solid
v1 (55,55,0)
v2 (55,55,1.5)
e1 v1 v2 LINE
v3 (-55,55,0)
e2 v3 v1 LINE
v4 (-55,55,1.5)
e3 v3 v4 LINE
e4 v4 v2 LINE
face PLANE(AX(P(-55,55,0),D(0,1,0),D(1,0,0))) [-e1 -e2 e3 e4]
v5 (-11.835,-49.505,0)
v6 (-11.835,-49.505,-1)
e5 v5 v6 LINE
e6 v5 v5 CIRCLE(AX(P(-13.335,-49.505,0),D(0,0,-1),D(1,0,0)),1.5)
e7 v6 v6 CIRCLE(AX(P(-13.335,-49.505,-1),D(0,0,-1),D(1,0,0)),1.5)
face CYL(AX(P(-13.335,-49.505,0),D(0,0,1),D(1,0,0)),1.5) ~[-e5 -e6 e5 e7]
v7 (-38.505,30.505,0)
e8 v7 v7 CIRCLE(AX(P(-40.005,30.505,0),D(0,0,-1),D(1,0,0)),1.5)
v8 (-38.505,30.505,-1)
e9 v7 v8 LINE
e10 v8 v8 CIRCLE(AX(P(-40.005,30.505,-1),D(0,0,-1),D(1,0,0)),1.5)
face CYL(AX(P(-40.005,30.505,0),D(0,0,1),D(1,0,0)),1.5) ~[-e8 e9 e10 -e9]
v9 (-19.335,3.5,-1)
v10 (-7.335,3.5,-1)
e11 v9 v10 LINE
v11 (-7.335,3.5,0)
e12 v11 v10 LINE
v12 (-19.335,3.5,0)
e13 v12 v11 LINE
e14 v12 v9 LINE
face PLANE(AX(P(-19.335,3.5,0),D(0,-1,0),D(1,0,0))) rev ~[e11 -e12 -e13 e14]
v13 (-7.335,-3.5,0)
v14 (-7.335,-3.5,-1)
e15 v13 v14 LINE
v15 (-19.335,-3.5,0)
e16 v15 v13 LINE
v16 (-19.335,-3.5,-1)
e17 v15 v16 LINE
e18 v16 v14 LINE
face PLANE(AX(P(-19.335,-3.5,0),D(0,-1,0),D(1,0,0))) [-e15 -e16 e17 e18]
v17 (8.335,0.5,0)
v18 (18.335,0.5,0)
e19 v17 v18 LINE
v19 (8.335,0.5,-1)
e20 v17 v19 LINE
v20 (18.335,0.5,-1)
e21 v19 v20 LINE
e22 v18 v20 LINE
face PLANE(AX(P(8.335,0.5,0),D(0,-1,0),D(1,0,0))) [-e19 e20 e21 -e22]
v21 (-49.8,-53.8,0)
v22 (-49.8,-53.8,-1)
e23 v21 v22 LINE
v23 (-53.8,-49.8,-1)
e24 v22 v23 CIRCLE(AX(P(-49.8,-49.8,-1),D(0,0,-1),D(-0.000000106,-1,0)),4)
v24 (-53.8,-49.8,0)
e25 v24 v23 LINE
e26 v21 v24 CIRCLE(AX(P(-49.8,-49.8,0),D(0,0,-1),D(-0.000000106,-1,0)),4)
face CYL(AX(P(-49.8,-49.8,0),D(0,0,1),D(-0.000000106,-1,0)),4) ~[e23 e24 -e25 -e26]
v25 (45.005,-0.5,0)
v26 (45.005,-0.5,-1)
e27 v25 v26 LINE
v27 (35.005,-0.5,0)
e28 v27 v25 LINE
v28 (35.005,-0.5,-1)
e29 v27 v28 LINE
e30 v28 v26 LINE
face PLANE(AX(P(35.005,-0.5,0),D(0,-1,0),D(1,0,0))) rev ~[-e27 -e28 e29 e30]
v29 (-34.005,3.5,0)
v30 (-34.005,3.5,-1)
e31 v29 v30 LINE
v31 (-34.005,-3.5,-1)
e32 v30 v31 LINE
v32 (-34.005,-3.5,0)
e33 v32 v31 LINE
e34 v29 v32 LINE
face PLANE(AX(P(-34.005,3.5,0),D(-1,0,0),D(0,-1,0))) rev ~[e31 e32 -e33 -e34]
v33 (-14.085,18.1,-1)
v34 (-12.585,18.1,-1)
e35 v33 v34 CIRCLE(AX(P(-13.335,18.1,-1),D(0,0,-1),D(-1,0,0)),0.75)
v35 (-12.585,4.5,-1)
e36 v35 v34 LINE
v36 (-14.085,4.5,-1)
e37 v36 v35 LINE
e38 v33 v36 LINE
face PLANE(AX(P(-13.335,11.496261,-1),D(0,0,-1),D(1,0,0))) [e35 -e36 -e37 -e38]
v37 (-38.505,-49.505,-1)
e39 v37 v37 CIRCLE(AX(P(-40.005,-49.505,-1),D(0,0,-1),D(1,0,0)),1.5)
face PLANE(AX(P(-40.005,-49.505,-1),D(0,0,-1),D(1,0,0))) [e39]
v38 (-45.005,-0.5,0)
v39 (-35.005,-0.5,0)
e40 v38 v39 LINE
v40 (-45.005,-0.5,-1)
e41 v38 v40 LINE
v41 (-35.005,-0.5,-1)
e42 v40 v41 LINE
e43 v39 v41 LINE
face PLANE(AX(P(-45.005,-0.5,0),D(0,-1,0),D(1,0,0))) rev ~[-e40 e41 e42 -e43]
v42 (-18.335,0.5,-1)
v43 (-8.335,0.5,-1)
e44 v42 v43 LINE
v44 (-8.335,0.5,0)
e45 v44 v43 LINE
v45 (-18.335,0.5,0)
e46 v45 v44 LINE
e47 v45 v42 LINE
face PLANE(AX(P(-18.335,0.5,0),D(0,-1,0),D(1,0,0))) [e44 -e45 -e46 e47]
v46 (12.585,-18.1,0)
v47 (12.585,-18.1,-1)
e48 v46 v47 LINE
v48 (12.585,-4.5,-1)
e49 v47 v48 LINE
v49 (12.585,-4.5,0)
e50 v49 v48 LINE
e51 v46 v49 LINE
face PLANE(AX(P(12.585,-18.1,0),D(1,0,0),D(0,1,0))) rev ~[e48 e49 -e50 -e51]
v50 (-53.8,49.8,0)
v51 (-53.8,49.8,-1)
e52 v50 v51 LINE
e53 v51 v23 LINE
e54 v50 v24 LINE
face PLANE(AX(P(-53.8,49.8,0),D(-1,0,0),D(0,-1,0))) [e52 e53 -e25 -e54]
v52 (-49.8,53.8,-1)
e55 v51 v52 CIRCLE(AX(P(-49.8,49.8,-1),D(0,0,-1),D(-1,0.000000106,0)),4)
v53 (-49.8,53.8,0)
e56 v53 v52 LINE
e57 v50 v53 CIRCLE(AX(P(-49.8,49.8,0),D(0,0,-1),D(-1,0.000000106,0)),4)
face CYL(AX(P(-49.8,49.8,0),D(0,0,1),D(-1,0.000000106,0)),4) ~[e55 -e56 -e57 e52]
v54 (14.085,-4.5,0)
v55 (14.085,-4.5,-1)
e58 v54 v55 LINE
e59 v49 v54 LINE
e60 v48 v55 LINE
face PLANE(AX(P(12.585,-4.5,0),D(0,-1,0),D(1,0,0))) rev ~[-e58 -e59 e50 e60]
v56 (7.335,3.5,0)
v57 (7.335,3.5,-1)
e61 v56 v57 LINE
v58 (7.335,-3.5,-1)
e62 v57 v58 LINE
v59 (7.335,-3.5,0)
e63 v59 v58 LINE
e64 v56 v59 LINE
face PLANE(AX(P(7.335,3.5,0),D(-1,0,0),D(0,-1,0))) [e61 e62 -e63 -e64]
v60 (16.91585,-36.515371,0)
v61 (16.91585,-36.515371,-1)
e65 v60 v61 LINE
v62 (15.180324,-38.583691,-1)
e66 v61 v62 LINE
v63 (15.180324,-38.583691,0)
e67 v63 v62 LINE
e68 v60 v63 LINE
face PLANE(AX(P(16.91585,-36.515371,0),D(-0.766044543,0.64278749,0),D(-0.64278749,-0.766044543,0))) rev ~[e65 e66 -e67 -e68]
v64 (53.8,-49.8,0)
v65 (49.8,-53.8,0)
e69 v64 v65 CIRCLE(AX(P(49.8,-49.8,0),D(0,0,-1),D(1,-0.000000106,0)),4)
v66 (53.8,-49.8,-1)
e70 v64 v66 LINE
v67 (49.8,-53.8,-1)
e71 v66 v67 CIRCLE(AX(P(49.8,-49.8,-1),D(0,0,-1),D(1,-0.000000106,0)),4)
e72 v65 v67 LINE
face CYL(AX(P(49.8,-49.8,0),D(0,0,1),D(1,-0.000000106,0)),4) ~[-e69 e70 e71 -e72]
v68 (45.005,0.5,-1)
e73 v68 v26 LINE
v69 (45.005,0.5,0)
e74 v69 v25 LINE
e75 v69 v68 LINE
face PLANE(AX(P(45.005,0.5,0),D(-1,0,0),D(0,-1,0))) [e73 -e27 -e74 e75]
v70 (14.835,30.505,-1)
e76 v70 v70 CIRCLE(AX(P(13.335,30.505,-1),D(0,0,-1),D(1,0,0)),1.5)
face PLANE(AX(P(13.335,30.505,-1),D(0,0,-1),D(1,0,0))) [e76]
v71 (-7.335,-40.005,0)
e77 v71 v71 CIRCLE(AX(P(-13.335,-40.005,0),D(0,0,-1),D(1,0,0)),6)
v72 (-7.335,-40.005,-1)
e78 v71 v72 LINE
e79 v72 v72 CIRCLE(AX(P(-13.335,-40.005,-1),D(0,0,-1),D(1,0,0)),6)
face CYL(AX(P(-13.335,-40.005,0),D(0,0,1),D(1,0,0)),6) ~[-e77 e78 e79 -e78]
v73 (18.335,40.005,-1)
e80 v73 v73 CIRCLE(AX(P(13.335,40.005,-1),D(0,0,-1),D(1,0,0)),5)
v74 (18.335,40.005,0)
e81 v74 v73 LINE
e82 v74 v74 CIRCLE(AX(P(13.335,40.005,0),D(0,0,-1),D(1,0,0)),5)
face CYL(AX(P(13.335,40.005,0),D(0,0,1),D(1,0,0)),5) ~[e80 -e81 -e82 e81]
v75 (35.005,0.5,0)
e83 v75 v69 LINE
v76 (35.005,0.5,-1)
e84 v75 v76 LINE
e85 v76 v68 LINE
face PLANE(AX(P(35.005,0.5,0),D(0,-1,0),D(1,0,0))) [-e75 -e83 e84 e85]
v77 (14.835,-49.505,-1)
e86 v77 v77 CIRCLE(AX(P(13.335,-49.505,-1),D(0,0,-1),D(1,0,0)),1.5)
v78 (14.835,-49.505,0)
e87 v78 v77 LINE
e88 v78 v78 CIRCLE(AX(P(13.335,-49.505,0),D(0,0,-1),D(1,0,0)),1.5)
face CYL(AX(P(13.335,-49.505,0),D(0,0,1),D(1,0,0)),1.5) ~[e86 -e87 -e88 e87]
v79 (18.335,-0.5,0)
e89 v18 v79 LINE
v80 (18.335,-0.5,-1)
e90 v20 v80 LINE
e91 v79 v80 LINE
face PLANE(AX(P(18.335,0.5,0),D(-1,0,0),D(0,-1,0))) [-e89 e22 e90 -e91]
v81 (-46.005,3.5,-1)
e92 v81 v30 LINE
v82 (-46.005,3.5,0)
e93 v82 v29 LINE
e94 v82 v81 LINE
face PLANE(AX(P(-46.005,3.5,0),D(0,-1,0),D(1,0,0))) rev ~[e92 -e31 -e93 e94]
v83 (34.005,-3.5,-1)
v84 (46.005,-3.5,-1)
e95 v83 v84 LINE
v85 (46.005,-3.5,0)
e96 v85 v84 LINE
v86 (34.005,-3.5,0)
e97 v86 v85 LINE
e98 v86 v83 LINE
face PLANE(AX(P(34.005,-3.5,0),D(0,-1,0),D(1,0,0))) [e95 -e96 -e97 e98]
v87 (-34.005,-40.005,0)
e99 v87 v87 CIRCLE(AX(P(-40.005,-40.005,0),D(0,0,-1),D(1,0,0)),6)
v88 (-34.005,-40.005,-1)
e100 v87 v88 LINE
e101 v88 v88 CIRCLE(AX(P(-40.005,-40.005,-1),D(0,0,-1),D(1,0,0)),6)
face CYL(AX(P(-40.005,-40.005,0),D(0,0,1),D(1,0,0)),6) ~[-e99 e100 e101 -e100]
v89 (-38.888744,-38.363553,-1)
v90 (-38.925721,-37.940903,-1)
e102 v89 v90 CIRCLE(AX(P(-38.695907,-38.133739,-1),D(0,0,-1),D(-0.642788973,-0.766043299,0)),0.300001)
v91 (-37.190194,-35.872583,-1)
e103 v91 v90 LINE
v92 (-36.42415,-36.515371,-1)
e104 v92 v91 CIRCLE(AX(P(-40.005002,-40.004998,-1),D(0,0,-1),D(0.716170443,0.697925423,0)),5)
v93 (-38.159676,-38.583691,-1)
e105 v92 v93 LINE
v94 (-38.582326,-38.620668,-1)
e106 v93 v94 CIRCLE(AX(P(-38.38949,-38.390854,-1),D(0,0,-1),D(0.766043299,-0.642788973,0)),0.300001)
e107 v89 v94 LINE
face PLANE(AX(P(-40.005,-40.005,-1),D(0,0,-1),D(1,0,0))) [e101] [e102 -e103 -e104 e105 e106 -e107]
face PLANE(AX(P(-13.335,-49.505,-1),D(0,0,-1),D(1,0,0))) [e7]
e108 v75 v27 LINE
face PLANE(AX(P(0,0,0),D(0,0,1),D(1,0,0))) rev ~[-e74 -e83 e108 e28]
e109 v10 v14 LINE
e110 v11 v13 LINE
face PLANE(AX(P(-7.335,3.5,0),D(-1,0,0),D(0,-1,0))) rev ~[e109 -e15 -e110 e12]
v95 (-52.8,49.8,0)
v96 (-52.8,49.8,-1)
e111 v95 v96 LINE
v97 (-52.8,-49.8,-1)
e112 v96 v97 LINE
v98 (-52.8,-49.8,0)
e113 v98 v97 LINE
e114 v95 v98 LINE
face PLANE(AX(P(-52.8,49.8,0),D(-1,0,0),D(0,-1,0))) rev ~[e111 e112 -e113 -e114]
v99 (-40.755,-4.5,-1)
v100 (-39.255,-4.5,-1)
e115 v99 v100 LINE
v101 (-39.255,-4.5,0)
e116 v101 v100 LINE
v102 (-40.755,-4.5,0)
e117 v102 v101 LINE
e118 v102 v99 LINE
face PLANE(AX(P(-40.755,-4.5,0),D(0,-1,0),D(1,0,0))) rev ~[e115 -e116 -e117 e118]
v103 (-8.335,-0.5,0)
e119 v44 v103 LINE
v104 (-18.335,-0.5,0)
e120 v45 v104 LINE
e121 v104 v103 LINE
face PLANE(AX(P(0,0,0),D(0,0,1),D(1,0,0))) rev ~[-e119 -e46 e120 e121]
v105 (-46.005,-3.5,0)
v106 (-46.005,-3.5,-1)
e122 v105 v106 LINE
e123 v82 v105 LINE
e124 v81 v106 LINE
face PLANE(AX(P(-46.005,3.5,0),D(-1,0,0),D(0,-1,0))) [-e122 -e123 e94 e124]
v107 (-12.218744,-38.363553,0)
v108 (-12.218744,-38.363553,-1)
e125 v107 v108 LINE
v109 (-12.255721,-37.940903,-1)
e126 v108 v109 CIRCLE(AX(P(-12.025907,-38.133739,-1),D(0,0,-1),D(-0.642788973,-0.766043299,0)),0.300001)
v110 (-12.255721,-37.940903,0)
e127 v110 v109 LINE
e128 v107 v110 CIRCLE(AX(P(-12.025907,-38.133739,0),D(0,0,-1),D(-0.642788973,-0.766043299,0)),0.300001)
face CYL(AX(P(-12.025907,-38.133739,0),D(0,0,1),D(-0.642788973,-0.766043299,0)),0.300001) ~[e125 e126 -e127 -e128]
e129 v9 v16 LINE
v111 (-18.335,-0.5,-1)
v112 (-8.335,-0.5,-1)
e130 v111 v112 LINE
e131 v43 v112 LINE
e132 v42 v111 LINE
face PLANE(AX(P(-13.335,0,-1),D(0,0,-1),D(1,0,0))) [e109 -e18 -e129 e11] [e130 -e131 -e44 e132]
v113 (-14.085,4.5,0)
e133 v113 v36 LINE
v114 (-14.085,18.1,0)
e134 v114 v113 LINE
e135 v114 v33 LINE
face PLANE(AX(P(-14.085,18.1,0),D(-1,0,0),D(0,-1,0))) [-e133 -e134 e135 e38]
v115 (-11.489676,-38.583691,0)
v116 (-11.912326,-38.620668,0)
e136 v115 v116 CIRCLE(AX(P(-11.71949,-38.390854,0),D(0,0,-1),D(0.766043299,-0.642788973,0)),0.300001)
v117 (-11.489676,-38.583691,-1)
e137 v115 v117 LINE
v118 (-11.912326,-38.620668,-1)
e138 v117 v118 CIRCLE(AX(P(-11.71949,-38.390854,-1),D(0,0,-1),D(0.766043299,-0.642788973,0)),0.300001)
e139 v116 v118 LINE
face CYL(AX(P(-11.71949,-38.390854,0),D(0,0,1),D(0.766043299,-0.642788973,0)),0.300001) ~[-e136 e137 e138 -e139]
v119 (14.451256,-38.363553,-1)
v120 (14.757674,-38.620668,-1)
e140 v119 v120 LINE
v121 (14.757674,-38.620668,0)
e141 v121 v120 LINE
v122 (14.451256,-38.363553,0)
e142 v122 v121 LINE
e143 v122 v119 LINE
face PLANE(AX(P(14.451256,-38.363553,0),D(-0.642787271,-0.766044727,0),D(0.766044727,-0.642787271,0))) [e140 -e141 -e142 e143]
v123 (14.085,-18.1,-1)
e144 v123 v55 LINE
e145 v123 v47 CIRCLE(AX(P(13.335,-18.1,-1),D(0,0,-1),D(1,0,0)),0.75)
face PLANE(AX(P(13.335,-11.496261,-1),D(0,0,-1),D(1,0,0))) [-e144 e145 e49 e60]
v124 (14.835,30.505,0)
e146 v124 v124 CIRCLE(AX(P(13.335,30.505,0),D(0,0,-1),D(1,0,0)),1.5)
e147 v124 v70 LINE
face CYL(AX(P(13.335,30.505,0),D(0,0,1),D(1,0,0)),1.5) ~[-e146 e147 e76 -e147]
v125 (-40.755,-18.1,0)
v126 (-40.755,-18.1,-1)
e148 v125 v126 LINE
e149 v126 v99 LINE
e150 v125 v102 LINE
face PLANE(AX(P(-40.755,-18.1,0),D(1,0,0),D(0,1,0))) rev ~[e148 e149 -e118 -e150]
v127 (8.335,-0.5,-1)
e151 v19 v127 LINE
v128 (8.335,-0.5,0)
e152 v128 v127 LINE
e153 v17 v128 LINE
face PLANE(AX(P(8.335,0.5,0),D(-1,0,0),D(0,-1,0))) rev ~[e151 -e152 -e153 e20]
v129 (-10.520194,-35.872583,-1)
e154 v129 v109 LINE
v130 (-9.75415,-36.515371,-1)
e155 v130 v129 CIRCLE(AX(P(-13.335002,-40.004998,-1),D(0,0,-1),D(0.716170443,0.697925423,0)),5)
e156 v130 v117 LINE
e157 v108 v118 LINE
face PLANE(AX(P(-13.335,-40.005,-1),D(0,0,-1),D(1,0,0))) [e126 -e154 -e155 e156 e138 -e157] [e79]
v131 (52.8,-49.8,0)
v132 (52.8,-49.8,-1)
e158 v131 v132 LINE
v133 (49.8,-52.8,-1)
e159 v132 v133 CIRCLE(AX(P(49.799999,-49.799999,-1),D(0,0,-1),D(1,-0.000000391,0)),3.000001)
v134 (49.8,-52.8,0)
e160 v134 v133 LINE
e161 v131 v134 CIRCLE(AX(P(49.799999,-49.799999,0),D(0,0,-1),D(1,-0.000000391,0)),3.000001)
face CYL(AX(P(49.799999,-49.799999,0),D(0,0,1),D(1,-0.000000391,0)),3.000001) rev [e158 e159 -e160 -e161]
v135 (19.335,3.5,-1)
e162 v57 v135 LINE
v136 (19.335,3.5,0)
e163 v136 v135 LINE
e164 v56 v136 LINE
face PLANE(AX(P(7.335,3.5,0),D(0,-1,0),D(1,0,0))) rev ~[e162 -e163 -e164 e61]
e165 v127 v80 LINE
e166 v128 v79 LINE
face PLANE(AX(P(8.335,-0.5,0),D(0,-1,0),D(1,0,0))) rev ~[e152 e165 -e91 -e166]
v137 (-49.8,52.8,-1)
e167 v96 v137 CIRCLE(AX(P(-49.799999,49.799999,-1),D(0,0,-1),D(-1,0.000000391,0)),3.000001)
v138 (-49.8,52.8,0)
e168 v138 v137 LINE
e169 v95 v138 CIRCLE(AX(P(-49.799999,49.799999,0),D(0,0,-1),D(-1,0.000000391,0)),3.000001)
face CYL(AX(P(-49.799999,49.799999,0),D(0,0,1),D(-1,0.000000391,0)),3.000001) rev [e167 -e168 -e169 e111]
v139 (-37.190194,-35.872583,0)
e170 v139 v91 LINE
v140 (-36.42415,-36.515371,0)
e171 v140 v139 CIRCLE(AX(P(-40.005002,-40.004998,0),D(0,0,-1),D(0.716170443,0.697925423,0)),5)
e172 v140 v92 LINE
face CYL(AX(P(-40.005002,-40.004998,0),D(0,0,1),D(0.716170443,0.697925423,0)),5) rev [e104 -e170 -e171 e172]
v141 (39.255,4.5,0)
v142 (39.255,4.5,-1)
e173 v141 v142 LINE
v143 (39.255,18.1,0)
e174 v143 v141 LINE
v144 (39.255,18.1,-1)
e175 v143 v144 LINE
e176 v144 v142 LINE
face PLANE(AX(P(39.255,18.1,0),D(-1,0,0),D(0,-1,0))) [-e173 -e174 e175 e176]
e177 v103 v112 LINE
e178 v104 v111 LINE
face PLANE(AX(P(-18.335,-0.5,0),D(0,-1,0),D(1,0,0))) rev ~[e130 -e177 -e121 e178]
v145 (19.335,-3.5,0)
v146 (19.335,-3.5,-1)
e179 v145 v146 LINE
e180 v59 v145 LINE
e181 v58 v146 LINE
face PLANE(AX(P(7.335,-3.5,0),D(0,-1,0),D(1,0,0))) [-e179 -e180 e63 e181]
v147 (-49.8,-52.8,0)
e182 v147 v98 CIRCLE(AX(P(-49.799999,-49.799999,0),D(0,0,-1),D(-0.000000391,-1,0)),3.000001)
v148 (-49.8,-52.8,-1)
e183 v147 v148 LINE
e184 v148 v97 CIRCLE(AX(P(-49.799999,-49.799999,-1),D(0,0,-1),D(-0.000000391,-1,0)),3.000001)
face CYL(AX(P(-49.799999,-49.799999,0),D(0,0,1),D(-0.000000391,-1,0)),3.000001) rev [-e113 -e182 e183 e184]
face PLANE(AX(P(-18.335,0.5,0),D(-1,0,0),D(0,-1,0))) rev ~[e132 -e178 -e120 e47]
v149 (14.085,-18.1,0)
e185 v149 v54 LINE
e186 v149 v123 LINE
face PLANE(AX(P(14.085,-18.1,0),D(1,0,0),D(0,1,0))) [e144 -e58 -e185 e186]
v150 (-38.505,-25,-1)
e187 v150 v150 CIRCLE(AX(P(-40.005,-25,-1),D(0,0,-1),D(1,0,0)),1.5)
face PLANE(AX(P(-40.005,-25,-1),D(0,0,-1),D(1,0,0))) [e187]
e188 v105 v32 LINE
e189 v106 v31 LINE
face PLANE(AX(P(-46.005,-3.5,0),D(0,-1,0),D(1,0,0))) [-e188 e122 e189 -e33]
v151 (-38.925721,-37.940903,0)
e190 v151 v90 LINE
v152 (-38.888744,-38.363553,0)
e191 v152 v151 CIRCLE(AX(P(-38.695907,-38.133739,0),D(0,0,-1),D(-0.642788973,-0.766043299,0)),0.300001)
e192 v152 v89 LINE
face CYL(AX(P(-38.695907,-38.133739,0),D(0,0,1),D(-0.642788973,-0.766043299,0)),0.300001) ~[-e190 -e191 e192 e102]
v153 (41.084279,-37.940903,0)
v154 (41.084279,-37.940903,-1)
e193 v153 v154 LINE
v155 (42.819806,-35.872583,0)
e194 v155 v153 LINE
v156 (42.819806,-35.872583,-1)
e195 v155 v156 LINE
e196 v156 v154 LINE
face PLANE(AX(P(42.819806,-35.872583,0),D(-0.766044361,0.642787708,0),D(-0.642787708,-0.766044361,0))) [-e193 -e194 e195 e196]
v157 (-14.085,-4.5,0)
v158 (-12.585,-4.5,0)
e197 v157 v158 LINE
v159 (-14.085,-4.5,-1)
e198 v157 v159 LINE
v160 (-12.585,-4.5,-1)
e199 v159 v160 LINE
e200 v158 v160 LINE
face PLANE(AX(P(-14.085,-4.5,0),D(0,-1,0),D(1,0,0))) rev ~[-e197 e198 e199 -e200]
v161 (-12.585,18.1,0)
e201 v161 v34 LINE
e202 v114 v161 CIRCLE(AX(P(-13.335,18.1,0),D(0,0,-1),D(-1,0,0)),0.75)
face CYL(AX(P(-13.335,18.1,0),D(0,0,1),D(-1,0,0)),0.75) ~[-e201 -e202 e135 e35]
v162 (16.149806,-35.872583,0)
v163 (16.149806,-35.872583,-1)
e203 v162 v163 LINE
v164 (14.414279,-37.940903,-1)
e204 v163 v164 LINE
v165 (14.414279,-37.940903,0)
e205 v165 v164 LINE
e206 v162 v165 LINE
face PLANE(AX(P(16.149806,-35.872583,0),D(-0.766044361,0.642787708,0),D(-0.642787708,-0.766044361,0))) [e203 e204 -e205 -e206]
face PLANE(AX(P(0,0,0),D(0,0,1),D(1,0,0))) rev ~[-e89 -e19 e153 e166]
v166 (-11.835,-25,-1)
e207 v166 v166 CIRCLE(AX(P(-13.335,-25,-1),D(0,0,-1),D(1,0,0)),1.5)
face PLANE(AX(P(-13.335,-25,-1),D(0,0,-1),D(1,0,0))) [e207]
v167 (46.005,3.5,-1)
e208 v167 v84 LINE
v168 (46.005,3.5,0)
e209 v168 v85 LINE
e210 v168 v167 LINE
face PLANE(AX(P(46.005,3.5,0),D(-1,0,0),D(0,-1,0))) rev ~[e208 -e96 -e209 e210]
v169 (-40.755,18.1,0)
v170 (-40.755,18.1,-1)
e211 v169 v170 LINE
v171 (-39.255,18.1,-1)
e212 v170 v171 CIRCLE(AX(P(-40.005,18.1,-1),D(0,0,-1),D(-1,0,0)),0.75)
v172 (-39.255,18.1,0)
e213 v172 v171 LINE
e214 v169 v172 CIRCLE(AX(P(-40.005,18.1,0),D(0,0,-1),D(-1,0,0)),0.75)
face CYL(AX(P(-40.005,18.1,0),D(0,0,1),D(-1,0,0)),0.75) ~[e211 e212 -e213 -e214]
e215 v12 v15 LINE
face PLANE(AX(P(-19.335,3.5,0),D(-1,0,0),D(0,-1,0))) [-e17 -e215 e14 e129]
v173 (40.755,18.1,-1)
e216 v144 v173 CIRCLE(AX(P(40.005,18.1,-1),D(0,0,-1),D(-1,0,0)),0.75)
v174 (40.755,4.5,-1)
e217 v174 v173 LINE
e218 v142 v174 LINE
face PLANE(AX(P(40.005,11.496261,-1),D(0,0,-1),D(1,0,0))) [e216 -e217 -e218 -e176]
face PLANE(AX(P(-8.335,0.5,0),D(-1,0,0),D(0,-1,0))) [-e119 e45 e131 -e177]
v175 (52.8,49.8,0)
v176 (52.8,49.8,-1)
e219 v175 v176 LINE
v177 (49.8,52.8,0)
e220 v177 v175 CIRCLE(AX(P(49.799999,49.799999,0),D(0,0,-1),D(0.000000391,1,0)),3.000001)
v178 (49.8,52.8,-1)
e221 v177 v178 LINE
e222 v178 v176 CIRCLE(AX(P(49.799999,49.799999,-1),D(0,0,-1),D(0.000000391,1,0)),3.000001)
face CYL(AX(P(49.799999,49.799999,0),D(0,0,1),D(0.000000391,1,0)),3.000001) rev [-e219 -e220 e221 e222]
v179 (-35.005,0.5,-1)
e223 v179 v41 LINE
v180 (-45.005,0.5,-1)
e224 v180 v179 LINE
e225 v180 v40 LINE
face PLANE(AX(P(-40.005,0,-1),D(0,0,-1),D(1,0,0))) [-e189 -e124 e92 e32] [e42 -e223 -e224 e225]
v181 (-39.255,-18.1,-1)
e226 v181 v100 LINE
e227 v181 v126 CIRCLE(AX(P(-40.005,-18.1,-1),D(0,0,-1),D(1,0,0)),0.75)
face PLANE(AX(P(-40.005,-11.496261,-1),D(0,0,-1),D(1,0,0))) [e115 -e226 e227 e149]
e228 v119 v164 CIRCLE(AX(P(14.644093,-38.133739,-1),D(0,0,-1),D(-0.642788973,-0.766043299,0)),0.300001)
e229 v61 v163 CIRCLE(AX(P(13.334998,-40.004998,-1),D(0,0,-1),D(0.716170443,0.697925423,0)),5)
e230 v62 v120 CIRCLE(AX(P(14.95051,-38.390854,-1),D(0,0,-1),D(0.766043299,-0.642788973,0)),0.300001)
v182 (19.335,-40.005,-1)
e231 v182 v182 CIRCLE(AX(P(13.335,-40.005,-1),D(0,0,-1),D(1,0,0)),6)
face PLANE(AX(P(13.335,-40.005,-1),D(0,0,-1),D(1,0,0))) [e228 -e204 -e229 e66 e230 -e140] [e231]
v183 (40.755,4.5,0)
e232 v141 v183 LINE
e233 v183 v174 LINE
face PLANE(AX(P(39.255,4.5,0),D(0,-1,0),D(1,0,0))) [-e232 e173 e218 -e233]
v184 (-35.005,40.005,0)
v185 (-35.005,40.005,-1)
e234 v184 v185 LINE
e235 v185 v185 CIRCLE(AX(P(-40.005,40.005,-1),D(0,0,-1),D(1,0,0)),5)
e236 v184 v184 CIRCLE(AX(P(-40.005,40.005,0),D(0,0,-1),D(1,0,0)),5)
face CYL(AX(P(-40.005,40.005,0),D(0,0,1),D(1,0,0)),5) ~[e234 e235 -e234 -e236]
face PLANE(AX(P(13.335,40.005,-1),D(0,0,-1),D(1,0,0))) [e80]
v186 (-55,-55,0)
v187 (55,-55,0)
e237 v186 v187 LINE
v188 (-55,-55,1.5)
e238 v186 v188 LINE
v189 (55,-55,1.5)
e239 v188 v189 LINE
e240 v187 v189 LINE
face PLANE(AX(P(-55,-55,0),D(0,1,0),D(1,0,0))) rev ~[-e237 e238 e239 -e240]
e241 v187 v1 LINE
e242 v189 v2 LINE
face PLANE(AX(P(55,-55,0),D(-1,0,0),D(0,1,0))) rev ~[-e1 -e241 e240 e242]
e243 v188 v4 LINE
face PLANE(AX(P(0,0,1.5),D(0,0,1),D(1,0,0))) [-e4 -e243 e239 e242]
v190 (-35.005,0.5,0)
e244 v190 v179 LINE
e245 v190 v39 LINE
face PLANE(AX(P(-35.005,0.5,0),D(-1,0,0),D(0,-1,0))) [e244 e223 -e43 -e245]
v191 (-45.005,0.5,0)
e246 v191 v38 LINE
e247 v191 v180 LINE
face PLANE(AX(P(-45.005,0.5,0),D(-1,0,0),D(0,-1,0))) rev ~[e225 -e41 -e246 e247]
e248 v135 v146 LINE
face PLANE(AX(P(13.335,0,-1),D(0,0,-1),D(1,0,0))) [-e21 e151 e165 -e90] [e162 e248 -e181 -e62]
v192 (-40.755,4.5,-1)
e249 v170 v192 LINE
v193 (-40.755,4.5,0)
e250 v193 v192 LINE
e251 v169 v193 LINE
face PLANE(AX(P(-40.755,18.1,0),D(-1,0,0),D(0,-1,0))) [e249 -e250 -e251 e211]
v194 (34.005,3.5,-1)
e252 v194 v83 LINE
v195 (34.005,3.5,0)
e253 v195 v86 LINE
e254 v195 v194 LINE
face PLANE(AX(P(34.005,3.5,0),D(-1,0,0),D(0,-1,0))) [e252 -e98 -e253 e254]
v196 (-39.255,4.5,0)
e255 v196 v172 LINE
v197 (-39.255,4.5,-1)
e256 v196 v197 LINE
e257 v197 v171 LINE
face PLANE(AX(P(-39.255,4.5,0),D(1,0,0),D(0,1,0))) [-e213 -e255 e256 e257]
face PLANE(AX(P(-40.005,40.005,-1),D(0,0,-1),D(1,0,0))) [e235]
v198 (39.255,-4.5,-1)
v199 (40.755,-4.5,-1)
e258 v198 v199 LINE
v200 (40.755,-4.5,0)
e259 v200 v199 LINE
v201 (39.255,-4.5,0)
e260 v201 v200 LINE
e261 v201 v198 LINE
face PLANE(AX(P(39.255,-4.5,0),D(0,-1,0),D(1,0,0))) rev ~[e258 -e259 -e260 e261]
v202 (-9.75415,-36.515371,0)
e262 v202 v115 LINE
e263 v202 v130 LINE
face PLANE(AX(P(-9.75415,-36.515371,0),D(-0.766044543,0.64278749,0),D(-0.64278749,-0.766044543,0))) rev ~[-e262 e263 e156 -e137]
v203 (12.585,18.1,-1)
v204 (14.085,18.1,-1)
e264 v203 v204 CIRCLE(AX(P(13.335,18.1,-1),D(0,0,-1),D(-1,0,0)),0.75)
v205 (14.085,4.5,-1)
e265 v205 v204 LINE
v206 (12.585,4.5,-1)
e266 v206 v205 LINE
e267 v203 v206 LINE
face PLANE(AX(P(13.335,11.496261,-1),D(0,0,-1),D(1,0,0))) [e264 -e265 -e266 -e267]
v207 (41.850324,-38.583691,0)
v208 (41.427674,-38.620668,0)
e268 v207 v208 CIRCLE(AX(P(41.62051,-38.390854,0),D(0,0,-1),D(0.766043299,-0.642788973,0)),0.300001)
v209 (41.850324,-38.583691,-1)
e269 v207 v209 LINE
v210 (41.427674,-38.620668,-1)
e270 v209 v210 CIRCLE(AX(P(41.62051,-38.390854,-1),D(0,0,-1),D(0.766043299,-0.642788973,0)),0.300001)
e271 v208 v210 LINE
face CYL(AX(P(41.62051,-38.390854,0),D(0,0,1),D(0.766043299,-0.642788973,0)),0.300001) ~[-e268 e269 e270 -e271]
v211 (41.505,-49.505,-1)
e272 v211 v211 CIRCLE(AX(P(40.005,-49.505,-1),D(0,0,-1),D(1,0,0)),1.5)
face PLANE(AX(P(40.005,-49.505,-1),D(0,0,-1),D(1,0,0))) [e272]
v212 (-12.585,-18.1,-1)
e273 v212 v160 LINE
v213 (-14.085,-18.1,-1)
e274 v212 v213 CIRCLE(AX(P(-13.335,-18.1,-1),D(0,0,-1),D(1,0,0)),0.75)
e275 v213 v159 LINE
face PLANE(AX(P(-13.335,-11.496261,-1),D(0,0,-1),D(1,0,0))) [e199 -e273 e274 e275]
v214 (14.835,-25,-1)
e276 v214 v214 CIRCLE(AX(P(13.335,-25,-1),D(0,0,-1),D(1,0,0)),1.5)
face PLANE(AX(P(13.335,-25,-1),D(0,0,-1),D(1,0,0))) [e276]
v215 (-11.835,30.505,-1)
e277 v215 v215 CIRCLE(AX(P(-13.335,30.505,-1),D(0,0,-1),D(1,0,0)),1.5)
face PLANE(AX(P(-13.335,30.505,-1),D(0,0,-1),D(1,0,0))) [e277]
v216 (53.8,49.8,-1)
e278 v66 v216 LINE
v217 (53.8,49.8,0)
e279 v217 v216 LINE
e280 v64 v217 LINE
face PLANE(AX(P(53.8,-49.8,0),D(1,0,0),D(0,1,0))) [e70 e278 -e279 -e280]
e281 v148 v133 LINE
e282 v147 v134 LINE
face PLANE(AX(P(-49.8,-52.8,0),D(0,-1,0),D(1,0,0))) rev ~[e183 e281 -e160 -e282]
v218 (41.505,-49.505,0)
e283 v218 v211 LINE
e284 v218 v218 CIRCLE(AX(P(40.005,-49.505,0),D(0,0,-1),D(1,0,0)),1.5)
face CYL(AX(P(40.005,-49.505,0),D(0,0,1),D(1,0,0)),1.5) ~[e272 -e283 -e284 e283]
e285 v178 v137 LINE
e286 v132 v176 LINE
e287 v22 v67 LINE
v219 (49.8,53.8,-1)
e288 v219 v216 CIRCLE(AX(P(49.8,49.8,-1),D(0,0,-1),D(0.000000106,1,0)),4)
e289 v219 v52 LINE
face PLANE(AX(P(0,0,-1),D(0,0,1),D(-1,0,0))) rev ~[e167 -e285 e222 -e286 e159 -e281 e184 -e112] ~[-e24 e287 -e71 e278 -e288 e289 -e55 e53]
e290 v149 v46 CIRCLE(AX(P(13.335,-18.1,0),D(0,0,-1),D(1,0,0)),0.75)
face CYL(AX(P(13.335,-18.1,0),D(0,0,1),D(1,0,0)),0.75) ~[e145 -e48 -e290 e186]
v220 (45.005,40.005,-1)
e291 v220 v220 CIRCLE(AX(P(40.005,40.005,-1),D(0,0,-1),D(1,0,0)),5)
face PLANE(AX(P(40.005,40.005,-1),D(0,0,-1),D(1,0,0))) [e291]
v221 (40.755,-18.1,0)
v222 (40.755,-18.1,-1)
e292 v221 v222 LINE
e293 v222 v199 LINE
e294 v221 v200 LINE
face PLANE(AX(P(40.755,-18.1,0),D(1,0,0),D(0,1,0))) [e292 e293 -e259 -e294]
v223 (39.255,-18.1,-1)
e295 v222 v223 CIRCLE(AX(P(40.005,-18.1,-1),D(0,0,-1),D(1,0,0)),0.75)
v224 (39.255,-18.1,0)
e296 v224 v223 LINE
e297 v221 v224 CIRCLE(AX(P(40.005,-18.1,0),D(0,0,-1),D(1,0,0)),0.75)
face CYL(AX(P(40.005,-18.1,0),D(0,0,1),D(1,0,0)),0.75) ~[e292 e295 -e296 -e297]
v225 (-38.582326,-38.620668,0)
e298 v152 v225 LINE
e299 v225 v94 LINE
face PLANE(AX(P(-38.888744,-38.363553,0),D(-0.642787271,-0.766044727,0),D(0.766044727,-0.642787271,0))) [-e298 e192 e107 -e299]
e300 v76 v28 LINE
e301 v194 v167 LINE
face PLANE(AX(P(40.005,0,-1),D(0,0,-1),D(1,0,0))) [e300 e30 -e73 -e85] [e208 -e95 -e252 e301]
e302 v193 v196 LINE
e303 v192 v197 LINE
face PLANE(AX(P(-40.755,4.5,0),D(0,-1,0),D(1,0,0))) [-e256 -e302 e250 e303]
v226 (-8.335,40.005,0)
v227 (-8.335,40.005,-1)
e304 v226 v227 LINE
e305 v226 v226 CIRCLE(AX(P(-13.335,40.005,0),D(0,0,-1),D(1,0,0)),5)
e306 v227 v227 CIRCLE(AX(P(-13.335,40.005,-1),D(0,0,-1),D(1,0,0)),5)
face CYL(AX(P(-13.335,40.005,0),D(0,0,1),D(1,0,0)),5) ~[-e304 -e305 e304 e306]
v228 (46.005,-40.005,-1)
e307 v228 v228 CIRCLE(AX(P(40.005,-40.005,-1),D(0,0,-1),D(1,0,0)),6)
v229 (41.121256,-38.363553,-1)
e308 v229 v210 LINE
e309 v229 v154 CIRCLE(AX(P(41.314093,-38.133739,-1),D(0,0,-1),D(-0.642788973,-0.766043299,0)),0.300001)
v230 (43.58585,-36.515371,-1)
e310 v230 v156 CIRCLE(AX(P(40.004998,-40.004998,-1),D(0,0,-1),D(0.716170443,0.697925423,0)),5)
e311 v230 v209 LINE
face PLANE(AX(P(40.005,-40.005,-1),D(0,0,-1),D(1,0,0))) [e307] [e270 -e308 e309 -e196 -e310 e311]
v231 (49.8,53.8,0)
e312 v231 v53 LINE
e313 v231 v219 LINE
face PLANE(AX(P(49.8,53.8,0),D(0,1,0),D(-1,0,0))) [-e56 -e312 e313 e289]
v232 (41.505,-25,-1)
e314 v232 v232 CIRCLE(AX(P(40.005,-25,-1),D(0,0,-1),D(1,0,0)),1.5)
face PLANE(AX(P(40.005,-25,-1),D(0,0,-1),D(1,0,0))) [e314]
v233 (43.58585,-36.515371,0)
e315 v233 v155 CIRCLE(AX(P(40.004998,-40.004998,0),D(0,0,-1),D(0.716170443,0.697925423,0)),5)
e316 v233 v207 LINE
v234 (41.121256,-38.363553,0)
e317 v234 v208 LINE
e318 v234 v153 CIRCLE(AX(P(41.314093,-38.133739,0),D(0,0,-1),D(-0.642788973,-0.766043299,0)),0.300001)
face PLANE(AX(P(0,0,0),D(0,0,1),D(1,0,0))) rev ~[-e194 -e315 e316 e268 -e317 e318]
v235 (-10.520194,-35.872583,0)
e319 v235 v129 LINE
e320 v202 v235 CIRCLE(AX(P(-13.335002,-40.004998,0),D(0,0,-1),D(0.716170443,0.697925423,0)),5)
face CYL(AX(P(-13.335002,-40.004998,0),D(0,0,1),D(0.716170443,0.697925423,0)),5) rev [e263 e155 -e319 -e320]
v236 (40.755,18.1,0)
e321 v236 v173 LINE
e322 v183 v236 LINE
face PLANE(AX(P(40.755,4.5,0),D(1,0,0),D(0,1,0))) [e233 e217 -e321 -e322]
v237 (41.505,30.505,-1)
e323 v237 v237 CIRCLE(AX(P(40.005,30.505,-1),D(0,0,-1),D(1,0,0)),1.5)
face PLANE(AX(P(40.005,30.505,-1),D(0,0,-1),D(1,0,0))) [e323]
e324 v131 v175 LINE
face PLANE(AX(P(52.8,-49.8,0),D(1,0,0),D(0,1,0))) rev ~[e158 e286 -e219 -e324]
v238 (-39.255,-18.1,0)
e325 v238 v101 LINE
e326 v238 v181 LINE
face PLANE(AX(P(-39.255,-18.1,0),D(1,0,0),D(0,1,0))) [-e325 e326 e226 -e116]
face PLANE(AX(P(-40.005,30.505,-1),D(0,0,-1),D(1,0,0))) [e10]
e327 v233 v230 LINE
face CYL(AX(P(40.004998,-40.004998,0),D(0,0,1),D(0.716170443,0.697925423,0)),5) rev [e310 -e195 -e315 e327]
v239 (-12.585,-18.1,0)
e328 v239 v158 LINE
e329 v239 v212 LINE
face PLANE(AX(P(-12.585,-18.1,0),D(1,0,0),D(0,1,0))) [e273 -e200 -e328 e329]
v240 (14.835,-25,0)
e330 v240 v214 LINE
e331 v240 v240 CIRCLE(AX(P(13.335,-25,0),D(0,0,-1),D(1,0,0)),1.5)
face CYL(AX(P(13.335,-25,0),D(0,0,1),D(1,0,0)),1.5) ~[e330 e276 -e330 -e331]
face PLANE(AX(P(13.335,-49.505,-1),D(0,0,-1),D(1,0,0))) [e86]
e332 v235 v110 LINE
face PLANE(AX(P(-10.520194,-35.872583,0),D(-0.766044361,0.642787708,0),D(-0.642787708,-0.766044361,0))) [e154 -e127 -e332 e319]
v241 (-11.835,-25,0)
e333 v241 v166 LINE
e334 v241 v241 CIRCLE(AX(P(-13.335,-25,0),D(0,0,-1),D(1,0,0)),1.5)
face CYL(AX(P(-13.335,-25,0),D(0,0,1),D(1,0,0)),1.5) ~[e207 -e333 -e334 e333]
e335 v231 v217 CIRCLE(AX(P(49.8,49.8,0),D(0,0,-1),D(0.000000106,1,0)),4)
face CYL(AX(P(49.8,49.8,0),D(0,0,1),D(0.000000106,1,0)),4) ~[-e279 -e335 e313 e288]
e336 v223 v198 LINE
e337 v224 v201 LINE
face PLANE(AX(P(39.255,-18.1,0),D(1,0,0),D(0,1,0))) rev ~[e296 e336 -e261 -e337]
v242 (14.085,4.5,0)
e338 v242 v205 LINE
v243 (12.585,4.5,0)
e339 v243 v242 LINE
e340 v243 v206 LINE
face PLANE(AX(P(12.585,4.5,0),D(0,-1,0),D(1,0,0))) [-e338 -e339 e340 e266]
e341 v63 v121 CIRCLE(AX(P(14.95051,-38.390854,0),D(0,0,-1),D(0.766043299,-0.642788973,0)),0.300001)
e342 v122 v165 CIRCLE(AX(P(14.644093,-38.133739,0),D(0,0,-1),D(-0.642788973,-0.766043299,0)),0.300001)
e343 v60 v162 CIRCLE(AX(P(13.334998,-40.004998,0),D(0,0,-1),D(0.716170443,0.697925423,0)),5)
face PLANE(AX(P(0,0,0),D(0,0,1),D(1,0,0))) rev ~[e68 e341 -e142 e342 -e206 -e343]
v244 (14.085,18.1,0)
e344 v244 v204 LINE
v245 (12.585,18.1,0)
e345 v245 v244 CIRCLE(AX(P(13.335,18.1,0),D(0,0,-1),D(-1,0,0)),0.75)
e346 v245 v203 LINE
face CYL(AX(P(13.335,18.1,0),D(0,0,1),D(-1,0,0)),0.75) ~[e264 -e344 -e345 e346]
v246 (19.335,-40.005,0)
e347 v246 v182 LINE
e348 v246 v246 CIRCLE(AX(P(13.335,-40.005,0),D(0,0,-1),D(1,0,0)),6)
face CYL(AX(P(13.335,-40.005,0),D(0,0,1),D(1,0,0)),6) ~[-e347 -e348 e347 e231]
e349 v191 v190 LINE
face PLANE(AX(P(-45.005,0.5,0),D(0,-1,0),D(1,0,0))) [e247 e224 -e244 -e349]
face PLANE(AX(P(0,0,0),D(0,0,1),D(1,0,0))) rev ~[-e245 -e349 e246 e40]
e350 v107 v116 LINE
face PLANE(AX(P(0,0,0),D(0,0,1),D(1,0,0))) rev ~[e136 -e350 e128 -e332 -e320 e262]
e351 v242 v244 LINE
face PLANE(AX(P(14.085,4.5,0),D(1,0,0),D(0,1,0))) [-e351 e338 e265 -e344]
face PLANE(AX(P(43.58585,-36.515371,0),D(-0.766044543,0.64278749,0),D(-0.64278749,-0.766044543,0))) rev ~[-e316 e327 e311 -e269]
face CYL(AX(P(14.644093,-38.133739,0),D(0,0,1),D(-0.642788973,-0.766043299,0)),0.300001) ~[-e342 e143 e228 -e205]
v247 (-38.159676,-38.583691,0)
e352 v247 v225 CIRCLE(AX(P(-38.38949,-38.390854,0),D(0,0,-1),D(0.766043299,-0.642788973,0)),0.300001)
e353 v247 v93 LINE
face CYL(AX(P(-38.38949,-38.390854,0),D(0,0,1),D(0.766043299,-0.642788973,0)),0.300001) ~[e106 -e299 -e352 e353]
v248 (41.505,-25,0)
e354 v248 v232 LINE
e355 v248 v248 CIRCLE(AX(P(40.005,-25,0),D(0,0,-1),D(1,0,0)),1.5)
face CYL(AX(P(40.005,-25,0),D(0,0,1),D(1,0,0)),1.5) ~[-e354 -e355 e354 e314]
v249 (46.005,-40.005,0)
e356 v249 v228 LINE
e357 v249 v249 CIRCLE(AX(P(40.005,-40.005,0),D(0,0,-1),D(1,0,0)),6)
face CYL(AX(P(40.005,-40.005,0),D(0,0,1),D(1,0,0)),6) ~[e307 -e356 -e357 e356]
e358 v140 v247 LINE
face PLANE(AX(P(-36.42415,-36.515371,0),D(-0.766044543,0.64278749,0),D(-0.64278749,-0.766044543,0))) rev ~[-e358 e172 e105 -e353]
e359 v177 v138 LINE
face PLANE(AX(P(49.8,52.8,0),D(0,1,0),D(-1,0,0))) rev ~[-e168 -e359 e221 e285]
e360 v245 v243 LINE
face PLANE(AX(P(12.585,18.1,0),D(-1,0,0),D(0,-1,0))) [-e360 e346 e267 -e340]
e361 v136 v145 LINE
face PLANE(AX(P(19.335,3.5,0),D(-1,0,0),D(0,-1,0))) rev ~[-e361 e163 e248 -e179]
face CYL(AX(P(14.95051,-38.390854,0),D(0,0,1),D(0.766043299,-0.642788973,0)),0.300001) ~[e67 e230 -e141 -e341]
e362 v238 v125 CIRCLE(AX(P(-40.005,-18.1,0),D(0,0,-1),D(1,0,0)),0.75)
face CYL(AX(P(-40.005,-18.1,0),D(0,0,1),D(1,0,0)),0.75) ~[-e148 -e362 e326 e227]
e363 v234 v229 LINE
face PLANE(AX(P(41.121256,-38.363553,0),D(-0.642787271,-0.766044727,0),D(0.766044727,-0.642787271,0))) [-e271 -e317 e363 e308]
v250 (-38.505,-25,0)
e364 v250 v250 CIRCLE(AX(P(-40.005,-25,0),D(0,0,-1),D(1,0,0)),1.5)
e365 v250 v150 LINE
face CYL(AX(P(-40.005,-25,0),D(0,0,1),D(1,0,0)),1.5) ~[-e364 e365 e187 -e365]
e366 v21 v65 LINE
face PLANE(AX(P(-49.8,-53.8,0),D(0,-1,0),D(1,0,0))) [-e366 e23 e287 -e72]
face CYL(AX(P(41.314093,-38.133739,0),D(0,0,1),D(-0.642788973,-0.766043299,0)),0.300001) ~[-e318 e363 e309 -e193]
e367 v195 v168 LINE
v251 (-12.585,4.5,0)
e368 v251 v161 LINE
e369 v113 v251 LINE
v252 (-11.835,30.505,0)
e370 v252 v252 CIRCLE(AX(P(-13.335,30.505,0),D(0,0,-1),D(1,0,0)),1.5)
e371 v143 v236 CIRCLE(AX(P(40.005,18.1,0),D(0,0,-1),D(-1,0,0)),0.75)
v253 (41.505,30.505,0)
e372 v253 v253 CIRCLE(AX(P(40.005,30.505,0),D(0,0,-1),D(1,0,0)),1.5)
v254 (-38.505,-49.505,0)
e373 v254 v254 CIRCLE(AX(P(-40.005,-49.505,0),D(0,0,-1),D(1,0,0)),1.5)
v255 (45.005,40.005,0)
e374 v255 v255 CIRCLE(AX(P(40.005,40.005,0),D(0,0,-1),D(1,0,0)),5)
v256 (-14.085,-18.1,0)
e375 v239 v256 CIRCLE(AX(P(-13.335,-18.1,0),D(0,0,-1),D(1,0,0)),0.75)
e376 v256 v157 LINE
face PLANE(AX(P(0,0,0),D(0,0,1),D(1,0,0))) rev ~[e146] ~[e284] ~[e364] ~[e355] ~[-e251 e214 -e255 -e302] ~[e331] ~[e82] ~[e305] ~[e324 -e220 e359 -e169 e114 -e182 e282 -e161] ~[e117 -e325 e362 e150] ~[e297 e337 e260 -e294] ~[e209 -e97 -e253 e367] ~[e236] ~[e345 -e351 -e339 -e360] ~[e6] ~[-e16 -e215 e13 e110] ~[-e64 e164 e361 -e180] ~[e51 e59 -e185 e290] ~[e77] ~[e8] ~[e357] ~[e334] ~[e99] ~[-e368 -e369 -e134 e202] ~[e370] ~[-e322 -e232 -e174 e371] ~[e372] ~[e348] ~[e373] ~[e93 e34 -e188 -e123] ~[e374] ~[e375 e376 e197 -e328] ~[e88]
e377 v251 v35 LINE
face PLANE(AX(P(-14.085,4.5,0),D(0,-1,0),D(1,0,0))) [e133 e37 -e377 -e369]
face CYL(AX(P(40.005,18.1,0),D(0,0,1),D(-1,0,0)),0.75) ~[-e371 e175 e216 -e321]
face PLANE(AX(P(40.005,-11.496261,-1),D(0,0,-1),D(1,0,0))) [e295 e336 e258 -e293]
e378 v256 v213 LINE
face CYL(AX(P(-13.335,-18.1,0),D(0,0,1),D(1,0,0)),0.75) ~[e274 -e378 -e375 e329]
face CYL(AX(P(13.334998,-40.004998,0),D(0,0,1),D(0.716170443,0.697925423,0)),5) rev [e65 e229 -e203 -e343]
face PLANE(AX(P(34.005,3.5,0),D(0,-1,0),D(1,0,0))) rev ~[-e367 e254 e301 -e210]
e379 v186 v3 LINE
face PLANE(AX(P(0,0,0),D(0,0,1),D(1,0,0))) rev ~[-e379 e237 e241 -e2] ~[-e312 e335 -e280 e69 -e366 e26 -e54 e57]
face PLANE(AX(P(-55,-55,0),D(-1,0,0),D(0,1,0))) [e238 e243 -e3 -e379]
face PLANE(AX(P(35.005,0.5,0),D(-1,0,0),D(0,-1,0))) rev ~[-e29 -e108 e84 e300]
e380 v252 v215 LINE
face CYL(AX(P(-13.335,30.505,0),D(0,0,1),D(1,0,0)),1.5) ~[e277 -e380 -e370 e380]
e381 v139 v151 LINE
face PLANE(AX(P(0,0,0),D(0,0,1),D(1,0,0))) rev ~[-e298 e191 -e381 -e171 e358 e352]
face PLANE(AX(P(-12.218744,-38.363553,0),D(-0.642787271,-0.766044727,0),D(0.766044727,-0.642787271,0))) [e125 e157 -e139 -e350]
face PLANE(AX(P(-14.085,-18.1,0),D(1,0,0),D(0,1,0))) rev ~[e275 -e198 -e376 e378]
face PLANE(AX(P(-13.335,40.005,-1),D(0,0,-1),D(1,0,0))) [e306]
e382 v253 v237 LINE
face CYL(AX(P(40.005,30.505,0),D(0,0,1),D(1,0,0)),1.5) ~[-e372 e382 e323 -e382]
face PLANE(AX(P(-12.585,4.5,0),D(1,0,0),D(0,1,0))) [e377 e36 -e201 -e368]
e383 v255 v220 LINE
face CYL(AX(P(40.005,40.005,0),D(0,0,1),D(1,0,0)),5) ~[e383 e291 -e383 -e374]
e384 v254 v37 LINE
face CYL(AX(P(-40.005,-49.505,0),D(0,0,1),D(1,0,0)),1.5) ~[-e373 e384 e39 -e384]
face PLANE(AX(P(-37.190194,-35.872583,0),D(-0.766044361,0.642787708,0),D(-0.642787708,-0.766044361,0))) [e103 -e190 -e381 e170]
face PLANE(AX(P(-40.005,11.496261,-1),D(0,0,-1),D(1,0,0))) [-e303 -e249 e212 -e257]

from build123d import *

# Parameters (mm, degrees)
SKETCH_W            = 110
SKETCH_H            = 110
PAD_DEPTH           = 1.5
PAD001_DEPTH        = 1
SKETCH002_R         = 6
SKETCH002_R_2       = 1.5
SKETCH002_R_3       = 5
SKETCH002_W         = 12
SKETCH002_H         = 7
SKETCH002_W_2       = 10
SKETCH002_H_2       = 1
PAD002_DEPTH        = 1
LINEARPATTERN_COUNT = 4
LINEARPATTERN_PITCH = 26.67


with BuildPart() as part:
    # Sketch → Pad (new body)
    with BuildSketch(Plane.XY):
        Rectangle(SKETCH_W, SKETCH_H)
    extrude(amount=PAD_DEPTH)

    # Sketch001 → Pad001 (join)
    with BuildSketch(Plane(origin=(0, 0, 0), x_dir=(1, 0, 0), z_dir=(0, 0, -1))):
        with BuildLine():
            Line((-49.8, 53.8), (49.8, 53.8))
            ThreePointArc((53.8, 49.8), (52.628427, 52.628427), (49.8, 53.8))
            Line((53.8, 49.8), (53.8, -49.8))
            ThreePointArc((49.8, -53.8), (52.628427, -52.628427), (53.8, -49.8))
            Line((49.8, -53.8), (-49.8, -53.8))
            ThreePointArc((-53.8, -49.8), (-52.628427, -52.628427), (-49.8, -53.8))
            Line((-53.8, -49.8), (-53.8, 49.8))
            ThreePointArc((-49.8, 53.8), (-52.628427, 52.628427), (-53.8, 49.8))
        make_face()
        with BuildLine():
            Line((-49.8, 52.8), (49.8, 52.8))
            ThreePointArc((52.8, 49.8), (51.92132, 51.92132), (49.8, 52.8))
            Line((52.8, 49.8), (52.8, -49.8))
            ThreePointArc((49.8, -52.8), (51.92132, -51.92132), (52.8, -49.8))
            Line((49.8, -52.8), (-49.8, -52.8))
            ThreePointArc((-52.8, -49.8), (-51.92132, -51.92132), (-49.8, -52.8))
            Line((-52.8, -49.8), (-52.8, 49.8))
            ThreePointArc((-49.8, 52.8), (-51.92132, 51.92132), (-52.8, 49.8))
        make_face(mode=Mode.SUBTRACT)
    extrude(amount=PAD001_DEPTH)

    # Sketch002 → Pad002 (join)
    with BuildSketch(Plane(origin=(0, 0, 0), x_dir=(1, 0, 0), z_dir=(0, 0, -1))):
        with Locations((-40.005, 40.005)):
            Circle(SKETCH002_R)
        with BuildLine():
            ThreePointArc((-36.42415, 36.515371), (-43.218938, 43.835222), (-37.190194, 35.872583))
            Line((-37.190194, 35.872583), (-38.925721, 37.940903))
            ThreePointArc((-38.888744, 38.363553), (-38.994766, 38.159886), (-38.925721, 37.940903))
            Line((-38.888744, 38.363553), (-38.582326, 38.620668))
            ThreePointArc((-38.159676, 38.583691), (-38.363343, 38.689713), (-38.582326, 38.620668))
            Line((-36.42415, 36.515371), (-38.159676, 38.583691))
        make_face(mode=Mode.SUBTRACT)
        with Locations((-40.005, 49.505)):
            Circle(SKETCH002_R_2)
        with Locations((-40.005, 25)):
            Circle(SKETCH002_R_2)
        with Locations((-40.005, -30.505)):
            Circle(SKETCH002_R_2)
        with Locations((-40.005, -40.005)):
            Circle(SKETCH002_R_3)
        with BuildLine():
            ThreePointArc((-39.255, 18.1), (-40.005, 18.85), (-40.755, 18.1))
            Line((-40.755, 18.1), (-40.755, 4.5))
            Line((-40.755, 4.5), (-39.255, 4.5))
            Line((-39.255, 18.1), (-39.255, 4.5))
        make_face()
        with BuildLine():
            ThreePointArc((-40.755, -18.1), (-40.005, -18.85), (-39.255, -18.1))
            Line((-39.255, -4.5), (-39.255, -18.1))
            Line((-40.755, -4.5), (-39.255, -4.5))
            Line((-40.755, -18.1), (-40.755, -4.5))
        make_face()
        with Locations((-40.005, 0)):
            Rectangle(SKETCH002_W, SKETCH002_H)
        with Locations((-40.005, 0)):
            Rectangle(SKETCH002_W_2, SKETCH002_H_2, mode=Mode.SUBTRACT)
    pad002 = extrude(amount=PAD002_DEPTH)

    # LinearPattern: Pad002 ×4
    with Locations(*[(i * LINEARPATTERN_PITCH, 0, 0) for i in range(1, LINEARPATTERN_COUNT)]):
        add(pad002)


solid = part.part
